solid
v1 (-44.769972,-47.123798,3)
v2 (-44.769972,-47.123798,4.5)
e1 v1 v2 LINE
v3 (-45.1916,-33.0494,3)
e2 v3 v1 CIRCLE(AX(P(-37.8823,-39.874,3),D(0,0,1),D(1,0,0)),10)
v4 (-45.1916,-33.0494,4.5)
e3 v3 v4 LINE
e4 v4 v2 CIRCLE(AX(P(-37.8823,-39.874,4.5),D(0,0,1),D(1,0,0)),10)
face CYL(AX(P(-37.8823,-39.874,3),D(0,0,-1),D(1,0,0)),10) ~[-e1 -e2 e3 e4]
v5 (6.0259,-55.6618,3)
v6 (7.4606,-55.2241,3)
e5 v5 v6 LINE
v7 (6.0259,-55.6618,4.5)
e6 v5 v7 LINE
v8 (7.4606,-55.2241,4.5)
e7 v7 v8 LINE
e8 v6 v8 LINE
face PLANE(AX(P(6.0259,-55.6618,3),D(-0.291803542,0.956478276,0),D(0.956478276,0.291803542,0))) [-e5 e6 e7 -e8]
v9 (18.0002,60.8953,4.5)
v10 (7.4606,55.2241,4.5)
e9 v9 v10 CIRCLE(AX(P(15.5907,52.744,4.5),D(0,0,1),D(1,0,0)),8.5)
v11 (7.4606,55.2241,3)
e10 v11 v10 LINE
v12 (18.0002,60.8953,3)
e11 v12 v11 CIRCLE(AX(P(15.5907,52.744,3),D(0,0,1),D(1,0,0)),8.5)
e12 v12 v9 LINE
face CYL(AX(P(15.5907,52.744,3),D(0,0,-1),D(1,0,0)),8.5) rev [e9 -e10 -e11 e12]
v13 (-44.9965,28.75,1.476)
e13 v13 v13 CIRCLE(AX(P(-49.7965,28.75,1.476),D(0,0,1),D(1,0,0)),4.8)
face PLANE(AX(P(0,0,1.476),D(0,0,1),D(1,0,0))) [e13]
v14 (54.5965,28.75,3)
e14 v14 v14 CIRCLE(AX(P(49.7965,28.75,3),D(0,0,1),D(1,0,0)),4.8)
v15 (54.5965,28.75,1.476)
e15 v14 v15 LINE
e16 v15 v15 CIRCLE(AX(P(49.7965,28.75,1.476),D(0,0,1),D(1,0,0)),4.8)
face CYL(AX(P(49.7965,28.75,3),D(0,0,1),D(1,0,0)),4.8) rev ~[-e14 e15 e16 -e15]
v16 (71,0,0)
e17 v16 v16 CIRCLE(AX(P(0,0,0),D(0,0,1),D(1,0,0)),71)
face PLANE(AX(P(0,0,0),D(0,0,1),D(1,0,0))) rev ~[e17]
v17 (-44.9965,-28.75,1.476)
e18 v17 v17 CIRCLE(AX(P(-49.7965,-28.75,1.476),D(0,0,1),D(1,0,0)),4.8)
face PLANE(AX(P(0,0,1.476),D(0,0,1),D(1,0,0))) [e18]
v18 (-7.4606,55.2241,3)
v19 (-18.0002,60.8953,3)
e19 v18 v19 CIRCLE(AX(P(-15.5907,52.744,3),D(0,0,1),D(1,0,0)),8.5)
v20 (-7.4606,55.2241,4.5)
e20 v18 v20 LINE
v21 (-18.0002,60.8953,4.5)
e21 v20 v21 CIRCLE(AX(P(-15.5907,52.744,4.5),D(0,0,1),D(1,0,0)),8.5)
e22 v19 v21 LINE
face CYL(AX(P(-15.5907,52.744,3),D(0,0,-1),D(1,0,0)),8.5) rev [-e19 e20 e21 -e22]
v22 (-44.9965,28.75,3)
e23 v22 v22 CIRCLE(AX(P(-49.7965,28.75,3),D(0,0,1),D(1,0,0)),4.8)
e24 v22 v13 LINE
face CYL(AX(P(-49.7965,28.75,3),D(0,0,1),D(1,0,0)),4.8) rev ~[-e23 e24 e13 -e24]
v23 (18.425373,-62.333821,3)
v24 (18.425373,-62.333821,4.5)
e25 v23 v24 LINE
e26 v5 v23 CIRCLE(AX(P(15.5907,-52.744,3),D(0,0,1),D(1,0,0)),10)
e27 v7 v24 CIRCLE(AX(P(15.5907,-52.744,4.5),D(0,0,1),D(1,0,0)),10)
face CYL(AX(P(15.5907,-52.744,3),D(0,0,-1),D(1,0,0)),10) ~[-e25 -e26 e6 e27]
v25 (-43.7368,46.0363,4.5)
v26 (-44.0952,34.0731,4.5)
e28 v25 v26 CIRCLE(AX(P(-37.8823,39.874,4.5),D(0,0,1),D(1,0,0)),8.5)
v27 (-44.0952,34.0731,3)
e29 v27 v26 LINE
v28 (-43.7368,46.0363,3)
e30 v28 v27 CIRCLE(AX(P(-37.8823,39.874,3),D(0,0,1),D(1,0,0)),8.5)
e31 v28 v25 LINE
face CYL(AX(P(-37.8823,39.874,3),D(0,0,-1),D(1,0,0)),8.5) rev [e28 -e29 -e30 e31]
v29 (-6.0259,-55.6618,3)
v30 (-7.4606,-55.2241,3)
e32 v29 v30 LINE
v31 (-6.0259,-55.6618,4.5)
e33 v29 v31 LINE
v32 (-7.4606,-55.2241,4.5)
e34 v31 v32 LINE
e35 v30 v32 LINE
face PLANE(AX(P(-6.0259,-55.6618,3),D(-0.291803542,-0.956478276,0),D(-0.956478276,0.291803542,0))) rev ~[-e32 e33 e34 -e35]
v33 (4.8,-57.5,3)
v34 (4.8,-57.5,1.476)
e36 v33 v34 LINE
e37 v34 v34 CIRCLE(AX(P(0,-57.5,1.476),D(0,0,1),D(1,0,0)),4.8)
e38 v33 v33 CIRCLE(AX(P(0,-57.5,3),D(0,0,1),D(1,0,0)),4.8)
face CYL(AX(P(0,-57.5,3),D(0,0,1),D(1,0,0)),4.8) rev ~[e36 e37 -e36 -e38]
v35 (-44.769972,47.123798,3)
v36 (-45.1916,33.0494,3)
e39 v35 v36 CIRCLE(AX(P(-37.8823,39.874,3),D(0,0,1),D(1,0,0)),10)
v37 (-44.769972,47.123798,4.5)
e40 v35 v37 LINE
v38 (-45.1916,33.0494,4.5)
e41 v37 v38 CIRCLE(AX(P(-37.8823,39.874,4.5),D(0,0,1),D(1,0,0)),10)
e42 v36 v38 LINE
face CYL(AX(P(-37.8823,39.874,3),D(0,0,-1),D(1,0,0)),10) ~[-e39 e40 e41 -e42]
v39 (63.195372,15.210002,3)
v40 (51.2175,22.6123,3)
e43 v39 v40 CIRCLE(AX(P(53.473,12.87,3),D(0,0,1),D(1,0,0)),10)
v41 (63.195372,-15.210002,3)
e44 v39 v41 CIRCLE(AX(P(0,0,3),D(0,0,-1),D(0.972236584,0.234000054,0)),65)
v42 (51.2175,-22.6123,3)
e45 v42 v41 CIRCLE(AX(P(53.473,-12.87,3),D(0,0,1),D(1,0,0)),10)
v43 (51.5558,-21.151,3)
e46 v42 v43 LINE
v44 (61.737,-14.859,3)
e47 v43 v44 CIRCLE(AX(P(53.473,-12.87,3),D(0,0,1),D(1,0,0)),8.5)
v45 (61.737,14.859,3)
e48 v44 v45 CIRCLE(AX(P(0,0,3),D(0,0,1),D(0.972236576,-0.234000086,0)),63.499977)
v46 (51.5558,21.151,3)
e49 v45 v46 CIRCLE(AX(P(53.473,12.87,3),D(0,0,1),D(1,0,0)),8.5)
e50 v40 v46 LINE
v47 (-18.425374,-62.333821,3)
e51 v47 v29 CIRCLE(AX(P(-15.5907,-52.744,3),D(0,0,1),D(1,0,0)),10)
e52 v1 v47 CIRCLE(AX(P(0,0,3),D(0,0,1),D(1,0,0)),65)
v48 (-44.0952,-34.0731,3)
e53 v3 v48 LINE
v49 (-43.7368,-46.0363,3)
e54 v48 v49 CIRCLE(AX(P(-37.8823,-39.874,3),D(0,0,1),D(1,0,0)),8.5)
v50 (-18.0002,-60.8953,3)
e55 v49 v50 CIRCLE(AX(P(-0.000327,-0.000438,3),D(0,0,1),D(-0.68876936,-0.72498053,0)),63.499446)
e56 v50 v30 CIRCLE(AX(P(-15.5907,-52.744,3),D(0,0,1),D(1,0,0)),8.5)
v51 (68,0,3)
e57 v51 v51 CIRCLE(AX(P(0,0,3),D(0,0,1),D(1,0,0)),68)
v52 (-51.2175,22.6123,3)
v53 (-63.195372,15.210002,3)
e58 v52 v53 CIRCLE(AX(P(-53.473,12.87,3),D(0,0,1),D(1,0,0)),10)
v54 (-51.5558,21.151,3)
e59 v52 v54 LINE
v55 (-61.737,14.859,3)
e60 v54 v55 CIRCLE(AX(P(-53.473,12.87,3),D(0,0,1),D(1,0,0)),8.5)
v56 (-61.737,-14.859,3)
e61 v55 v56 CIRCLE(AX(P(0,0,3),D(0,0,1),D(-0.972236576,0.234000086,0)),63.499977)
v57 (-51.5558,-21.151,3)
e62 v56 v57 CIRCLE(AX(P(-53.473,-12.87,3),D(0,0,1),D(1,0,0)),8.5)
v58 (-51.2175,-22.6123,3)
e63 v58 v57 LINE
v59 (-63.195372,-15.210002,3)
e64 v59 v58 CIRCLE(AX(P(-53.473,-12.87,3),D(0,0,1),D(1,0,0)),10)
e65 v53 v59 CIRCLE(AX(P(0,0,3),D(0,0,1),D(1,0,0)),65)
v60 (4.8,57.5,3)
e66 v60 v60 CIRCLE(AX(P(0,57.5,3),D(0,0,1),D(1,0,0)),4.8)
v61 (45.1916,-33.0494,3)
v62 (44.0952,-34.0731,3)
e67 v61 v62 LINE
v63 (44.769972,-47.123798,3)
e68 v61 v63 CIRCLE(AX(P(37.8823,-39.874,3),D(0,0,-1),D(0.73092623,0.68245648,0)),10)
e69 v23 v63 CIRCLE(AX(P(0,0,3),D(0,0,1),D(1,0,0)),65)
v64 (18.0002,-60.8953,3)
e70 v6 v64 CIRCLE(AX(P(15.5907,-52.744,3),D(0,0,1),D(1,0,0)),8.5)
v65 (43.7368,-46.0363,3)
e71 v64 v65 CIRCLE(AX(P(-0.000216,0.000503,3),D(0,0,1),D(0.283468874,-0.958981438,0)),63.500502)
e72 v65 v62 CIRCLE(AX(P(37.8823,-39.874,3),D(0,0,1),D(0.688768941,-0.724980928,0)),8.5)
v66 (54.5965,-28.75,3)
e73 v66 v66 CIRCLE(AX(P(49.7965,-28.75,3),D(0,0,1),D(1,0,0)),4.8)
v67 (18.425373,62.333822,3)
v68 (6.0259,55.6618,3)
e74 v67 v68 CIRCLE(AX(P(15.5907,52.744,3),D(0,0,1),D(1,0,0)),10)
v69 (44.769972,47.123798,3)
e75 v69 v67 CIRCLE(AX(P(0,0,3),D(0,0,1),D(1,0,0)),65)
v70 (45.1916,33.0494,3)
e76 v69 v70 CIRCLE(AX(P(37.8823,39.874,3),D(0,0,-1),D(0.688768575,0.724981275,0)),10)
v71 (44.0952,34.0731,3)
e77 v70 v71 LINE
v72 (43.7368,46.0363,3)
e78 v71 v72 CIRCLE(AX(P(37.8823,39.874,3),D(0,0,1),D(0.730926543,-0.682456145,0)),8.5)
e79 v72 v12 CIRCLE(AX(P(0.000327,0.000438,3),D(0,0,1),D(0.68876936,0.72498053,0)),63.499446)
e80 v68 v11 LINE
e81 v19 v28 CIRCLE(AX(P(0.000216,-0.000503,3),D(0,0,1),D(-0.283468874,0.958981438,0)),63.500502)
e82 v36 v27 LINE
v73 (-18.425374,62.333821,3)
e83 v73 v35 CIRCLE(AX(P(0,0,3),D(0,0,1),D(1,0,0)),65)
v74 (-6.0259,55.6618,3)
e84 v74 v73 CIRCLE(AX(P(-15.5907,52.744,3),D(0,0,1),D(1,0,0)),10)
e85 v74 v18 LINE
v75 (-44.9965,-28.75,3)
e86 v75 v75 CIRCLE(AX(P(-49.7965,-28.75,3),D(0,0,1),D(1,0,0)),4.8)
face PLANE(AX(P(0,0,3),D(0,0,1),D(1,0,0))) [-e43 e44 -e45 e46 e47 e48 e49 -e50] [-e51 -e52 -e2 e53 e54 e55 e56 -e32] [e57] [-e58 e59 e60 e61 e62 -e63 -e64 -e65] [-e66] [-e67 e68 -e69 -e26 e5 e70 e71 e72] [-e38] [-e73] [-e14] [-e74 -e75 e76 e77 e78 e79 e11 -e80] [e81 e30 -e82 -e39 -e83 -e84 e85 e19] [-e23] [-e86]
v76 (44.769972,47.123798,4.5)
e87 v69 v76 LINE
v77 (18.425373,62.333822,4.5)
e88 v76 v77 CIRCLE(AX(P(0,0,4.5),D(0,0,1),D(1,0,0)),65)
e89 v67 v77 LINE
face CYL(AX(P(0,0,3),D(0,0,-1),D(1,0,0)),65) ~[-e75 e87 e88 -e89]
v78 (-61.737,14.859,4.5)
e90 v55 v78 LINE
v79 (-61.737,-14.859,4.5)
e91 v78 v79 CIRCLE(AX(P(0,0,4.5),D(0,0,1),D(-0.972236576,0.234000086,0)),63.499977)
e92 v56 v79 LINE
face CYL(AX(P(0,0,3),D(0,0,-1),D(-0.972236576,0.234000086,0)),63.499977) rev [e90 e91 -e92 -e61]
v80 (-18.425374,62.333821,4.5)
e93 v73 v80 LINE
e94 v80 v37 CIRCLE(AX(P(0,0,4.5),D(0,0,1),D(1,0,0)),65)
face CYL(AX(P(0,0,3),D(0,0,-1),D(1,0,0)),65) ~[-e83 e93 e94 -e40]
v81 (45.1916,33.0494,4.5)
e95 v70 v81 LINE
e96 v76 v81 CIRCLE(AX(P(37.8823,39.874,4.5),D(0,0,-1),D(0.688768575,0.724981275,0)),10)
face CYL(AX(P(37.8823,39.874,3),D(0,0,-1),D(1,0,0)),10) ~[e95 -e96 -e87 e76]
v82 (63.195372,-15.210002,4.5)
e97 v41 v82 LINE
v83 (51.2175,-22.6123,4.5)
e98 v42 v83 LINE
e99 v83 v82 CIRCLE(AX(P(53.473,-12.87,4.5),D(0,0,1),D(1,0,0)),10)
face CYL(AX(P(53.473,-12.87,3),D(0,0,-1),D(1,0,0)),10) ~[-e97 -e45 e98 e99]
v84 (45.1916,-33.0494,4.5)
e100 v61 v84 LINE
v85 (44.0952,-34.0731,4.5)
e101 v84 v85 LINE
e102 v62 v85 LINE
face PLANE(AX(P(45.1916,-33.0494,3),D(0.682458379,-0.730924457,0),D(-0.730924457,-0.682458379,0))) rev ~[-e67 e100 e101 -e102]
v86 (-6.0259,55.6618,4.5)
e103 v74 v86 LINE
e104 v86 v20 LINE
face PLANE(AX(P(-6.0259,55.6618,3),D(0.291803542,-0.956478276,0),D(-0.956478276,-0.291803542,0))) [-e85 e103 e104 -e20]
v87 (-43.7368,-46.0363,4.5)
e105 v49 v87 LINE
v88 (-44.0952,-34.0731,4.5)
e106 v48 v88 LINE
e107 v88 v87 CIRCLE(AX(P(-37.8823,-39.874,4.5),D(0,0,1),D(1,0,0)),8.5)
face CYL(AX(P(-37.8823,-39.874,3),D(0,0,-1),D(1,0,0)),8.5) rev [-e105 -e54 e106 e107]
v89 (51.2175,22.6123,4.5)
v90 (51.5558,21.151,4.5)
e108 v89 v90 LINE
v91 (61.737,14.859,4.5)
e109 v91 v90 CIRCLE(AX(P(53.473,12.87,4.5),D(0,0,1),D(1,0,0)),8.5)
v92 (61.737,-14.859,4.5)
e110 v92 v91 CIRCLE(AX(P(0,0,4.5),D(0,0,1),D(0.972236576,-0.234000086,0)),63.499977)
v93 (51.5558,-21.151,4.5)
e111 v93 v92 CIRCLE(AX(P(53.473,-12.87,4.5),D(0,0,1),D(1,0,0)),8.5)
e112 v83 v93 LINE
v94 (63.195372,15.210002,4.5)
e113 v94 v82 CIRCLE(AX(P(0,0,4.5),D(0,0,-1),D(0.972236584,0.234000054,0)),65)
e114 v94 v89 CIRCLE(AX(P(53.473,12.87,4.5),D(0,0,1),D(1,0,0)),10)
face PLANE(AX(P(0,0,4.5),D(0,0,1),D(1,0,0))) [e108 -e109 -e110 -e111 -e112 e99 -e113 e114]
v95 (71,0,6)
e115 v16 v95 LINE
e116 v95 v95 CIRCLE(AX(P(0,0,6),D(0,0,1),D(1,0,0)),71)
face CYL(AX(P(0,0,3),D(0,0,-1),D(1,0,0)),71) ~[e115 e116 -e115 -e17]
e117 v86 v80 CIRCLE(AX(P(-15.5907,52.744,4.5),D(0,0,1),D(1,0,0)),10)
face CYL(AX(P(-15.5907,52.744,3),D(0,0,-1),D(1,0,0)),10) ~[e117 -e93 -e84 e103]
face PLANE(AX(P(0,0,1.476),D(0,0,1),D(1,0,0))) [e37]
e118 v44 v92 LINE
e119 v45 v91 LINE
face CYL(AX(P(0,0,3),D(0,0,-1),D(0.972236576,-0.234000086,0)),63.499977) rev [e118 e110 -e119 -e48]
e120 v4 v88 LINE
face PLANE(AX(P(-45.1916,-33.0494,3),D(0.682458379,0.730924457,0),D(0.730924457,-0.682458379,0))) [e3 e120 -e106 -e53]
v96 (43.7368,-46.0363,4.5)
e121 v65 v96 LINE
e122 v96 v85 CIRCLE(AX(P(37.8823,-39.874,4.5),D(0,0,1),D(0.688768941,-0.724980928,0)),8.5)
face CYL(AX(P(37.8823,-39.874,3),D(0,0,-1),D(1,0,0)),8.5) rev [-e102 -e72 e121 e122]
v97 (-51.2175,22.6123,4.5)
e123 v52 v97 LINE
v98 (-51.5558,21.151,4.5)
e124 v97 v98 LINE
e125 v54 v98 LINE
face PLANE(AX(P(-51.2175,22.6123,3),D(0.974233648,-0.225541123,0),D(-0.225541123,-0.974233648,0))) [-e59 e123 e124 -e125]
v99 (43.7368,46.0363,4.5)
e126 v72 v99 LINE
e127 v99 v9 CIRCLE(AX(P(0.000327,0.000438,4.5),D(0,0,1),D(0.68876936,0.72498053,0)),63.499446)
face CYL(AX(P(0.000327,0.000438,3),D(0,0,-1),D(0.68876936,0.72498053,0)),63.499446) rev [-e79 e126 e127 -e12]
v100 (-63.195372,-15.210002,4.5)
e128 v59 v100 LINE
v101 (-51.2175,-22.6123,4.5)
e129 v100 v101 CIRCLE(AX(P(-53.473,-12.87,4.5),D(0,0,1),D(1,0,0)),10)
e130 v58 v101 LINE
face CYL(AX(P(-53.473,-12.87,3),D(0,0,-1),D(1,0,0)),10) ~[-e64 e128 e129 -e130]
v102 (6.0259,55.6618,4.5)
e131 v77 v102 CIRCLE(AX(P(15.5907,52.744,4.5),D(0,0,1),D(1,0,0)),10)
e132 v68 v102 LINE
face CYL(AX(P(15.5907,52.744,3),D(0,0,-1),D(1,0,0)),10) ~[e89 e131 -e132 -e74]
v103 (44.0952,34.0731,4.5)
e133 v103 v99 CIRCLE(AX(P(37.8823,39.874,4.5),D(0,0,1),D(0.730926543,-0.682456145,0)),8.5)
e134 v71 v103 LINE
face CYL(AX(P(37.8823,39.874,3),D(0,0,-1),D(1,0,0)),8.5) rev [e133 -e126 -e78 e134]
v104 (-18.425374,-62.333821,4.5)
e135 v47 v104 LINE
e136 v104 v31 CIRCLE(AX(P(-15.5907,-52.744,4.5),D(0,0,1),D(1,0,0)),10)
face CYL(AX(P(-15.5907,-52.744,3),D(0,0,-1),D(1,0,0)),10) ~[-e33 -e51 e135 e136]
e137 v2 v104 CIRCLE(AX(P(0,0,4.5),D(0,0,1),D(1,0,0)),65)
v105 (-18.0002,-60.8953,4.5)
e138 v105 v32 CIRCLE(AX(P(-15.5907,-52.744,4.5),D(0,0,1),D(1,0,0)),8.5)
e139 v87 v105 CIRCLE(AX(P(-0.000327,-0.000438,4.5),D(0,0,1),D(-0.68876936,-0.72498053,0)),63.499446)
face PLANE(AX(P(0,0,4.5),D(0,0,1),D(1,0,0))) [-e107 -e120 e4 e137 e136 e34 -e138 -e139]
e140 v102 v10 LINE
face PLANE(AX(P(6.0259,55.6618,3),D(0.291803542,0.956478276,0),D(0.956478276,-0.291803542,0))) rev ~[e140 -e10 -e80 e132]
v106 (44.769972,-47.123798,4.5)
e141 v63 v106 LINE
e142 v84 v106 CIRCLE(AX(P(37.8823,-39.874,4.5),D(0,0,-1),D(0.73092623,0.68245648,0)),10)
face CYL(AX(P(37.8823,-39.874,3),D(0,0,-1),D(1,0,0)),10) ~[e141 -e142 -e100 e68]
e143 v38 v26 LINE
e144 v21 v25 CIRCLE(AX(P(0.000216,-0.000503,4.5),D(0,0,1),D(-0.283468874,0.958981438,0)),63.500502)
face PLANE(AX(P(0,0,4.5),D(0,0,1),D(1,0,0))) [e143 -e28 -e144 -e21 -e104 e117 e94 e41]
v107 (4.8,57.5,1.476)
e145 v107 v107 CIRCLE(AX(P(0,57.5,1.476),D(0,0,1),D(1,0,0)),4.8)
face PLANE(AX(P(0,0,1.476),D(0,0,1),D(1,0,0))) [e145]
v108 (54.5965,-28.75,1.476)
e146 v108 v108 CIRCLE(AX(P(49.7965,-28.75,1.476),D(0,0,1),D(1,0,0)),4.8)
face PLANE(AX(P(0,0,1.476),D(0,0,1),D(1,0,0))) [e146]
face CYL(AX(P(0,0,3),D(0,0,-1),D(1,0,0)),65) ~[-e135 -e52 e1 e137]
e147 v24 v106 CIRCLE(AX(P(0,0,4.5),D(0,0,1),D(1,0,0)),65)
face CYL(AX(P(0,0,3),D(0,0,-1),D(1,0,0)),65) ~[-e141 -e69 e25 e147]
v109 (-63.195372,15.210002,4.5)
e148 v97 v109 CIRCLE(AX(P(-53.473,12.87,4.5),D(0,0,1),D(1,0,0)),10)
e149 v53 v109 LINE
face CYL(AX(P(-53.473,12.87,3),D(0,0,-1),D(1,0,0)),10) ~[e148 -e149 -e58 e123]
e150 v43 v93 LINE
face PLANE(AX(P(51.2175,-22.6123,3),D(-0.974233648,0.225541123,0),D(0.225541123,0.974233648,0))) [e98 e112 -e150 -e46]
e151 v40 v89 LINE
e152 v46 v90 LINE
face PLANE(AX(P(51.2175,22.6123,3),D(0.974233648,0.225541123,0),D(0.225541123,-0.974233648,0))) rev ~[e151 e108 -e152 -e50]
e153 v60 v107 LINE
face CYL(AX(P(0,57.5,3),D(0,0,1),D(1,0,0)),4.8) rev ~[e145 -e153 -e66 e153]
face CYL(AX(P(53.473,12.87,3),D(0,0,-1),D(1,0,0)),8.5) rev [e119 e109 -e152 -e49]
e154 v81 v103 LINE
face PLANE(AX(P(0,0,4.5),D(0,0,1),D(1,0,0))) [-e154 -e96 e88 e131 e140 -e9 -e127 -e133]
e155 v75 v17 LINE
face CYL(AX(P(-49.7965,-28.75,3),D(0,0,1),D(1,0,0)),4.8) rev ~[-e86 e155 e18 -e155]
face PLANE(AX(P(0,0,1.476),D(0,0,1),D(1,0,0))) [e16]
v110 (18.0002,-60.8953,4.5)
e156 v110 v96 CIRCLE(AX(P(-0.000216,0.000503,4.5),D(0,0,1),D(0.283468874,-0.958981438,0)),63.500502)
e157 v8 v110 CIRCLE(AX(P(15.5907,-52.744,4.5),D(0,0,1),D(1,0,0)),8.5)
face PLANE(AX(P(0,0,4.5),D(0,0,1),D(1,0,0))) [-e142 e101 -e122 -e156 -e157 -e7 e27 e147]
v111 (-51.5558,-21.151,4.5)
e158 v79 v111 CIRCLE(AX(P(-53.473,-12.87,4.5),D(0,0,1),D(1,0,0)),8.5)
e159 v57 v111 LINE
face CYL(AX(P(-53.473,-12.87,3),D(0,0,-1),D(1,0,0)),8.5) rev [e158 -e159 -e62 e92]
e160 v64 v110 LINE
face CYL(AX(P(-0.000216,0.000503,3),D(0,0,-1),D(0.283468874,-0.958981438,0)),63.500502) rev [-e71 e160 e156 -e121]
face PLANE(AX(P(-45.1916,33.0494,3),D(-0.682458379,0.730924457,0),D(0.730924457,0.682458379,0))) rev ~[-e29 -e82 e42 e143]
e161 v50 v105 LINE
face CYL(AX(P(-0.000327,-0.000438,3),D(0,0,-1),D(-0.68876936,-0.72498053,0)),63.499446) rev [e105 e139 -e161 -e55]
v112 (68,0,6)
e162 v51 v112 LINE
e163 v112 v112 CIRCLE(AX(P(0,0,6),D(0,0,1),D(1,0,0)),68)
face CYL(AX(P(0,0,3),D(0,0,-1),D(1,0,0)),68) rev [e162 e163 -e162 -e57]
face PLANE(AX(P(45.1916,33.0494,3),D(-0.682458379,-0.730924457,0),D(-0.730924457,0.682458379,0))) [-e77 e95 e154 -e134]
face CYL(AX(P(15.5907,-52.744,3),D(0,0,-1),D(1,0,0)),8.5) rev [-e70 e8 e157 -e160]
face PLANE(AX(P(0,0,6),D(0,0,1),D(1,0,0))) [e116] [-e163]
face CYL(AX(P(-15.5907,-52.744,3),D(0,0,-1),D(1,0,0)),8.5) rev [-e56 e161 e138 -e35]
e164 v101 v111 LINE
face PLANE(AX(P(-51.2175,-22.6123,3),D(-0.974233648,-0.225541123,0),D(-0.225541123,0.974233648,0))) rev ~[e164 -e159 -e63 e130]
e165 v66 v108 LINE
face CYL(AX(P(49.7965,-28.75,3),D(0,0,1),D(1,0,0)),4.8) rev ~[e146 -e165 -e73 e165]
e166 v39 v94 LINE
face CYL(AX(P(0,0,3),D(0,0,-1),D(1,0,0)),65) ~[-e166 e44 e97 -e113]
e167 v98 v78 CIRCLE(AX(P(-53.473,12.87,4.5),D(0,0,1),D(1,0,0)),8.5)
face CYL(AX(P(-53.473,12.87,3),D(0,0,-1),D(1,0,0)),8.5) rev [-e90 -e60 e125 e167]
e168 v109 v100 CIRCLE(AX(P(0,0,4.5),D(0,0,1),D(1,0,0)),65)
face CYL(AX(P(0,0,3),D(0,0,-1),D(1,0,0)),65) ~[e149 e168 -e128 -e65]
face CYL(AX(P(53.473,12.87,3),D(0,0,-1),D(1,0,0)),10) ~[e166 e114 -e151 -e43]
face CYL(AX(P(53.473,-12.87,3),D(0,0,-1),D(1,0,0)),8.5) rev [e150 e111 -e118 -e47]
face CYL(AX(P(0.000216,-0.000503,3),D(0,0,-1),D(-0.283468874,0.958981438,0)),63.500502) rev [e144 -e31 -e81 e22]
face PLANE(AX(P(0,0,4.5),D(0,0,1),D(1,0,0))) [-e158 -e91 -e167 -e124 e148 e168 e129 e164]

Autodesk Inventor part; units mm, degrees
ref_plane "YZ Plane" through (0, 0, 0) normal (1, 0, 0) x (0, 1, 0)
ref_plane "XZ Plane" through (0, 0, 0) normal (0, 1, 0) x (-1, 0, 0)
ref_plane "XY Plane" through (0, 0, 0) normal (0, 0, 1) x (1, 0, 0)
sketch "Sketch3" plane through (0, 0, 0) normal (0, 0, 1) x (1, 0, 0)
  circle A0 centre (0, 0) radius 68
  circle A1 centre (0, 0) radius 65
  circle A2 centre (0, 0) radius 71
  dimension "d27" = 136
  dimension "d28" = 130
  dimension "d29" = 142
extrude "Extrusion3" add sketch "Sketch3" along normal blind 3 contours A0 | A1 | A2
sketch "Sketch4" plane through (0, 0, 3) normal (0, 0, 1) x (1, 0, 0)
  circle A0 centre (0, 0) radius 71 projected
  line L0 (0, 0) -> (0, 63.1147) construction
  circle A1 centre (0, 57.5) radius 4.8
  circle A2 centre (-49.7965, 28.75) radius 4.8
  circle A3 centre (-49.7965, -28.75) radius 4.8
  circle A4 centre (0, -57.5) radius 4.8
  circle A5 centre (49.7965, -28.75) radius 4.8
  circle A6 centre (49.7965, 28.75) radius 4.8
  dimension "d32" = 9.6
  dimension "d33" = 57.5
  dimension "d36" = 360
extrude "Extrusion4" cut sketch "Sketch4" against normal blind 1.524 contours A1 | A2 | A3 | A4 | A5 | A6
sketch "Sketch5" plane through (0, 0, 3) normal (0, 0, 1) x (1, 0, 0)
  circle A0 centre (49.7965, -28.75) radius 4.8 projected
  circle A1 centre (-49.7965, 28.75) radius 4.8 projected
  circle A2 centre (49.7965, 28.75) radius 4.8 projected
  circle A3 centre (0, -57.5) radius 4.8 projected
  circle A4 centre (-49.7965, -28.75) radius 4.8 projected
  circle A5 centre (0, 57.5) radius 4.8 projected
  circle A6 centre (0, 0) radius 71 projected
  circle A7 centre (0, 57.5) radius 6.3
  circle A8 centre (-49.7965, 28.75) radius 6.3
  circle A9 centre (-49.7965, -28.75) radius 6.3
  circle A10 centre (0, -57.5) radius 6.3
  circle A11 centre (49.7965, -28.75) radius 6.3
  circle A12 centre (49.7965, 28.75) radius 6.3
  circle A13 centre (0, 0) radius 65
  circle A14 centre (-15.5907, 52.744) radius 10
  circle A15 centre (15.5907, 52.744) radius 10
  circle A16 centre (-37.8823, 39.874) radius 10
  circle A17 centre (-53.473, 12.87) radius 10
  circle A18 centre (-53.473, -12.87) radius 10
  circle A19 centre (-37.8823, -39.874) radius 10
  circle A20 centre (-15.5907, -52.744) radius 10
  circle A21 centre (15.5907, -52.744) radius 10
  circle A22 centre (37.8823, -39.874) radius 10
  circle A23 centre (53.473, -12.87) radius 10
  circle A24 centre (53.473, 12.87) radius 10
  circle A25 centre (37.8823, 39.874) radius 10
  circle A26 centre (-15.5907, 52.744) radius 8.5
  circle A27 centre (-37.8823, 39.874) radius 8.5
  arc A28 (-18.0002, 60.8953) -> (-43.7368, 46.0363) centre (0, 0) ccw
  line L0 (-45.1916, 33.0494) -> (-44.0952, 34.0731)
  line L1 (-6.0259, 55.6618) -> (-7.4606, 55.2241)
  line L2 (-51.2175, 22.6123) -> (-51.5558, 21.151)
  arc A29 (-61.737, 14.859) -> (-61.737, -14.859) centre (0, 0) ccw
  line L3 (-51.2175, -22.6123) -> (-51.5558, -21.151)
  circle A30 centre (-53.473, -12.87) radius 8.5
  circle A31 centre (-53.473, 12.87) radius 8.5
  line L4 (-45.1916, -33.0494) -> (-44.0952, -34.0731)
  arc A32 (-43.7368, -46.0363) -> (-18.0002, -60.8953) centre (0, 0) ccw
  line L5 (-6.0259, -55.6618) -> (-7.4606, -55.2241)
  circle A33 centre (-15.5907, -52.744) radius 8.5
  circle A34 centre (-37.8823, -39.874) radius 8.5
  line L6 (6.0259, -55.6618) -> (7.4606, -55.2241)
  arc A35 (18.0002, -60.8953) -> (43.7368, -46.0363) centre (0, 0) ccw
  line L7 (45.1916, -33.0494) -> (44.0952, -34.0731)
  circle A36 centre (37.8823, -39.874) radius 8.5
  circle A37 centre (15.5907, -52.744) radius 8.5
  line L8 (51.2175, -22.6123) -> (51.5558, -21.151)
  arc A38 (61.737, -14.859) -> (61.737, 14.859) centre (0, 0) ccw
  line L9 (51.2175, 22.6123) -> (51.5558, 21.151)
  circle A39 centre (53.473, 12.87) radius 8.5
  circle A40 centre (53.473, -12.87) radius 8.5
  line L10 (45.1916, 33.0494) -> (44.0952, 34.0731)
  arc A41 (43.7368, 46.0363) -> (18.0002, 60.8953) centre (0, 0) ccw
  line L11 (6.0259, 55.6618) -> (7.4606, 55.2241)
  circle A42 centre (15.5907, 52.744) radius 8.5
  circle A43 centre (37.8823, 39.874) radius 8.5
  point P0 (-63.1954, 15.2101)
  point P1 (-63.1954, -15.2101)
  point P2 (-45.1916, -33.0494)
  point P3 (-44.77, -47.1238)
  point P4 (-18.4254, -62.3338)
  point P5 (-6.0259, -55.6618)
  point P6 (6.0259, -55.6618)
  point P7 (18.4254, -62.3338)
  point P8 (44.77, -47.1238)
  point P9 (45.1916, -33.0494)
  point P10 (63.1954, -15.2101)
  point P11 (63.1954, 15.2101)
  point P12 (51.2175, 22.6123)
  point P13 (45.1916, 33.0494)
  point P14 (44.77, 47.1238)
  point P15 (18.4254, 62.3338)
  point P16 (6.0259, 55.6618)
  point P17 (-18.4254, 62.3338)
  point P18 (-44.77, 47.1238)
  dimension "d46" = 20
  dimension "d40" = 1.5
  dimension "d43" = 360
  dimension "d45" = 130
  dimension "d47" = 20
  dimension "d50" = 360
  dimension "d52" = 1.5
  dimension "d53" = 1.5
  dimension "d56" = 360
extrude "Extrusion5" add sketch "Sketch5" along normal blind 1.5 contours L1 A26 A28 A14 | A15 A41 A42 L11 | A14 A28 A16 A13 | A13 A25 A41 A15 | A16 A28 A27 L0 | A25 L10 A43 A41 | A17 A29 A18 A13 | A17 L2 A31 A29 | A13 A23 A38 A24 | A24 A38 A39 L9 | A18 A29 A30 L3 | A19 A32 A20 A13 | A19 L4 A34 A32 | A23 L8 A40 A38 | A20 A32 A33 L5 | A13 A21 A35 A22 | A22 A35 A36 L7 | A21 L6 A37 A35 picked at (-10.8394, 60.9083) picked at (10.8394, 60.9083) picked at (-44.9035, 46.1933) picked at (47.256, 41.1158) picked at (-62.4563, 15.7909) picked at (62.2412, 16.3841) picked at (-62.2412, -16.3841) picked at (-45.2691, -33.9863) picked at (62.4563, -15.7909) picked at (-10.8394, -60.9083) picked at (44.8652, -46.2495) picked at (10.8394, -60.9083)
sketch "Sketch6" plane through (0, 0, 3) normal (0, 0, 1) x (1, 0, 0)
  circle A0 centre (0, 0) radius 71 projected
  circle A1 centre (0, 0) radius 68
  dimension "d60" = 136
extrude "Extrusion6" add sketch "Sketch6" along normal blind 3
equation "\"d47\" = d46"
equation "\"d53\" = d52"
properties part number "Bottom Lid"
